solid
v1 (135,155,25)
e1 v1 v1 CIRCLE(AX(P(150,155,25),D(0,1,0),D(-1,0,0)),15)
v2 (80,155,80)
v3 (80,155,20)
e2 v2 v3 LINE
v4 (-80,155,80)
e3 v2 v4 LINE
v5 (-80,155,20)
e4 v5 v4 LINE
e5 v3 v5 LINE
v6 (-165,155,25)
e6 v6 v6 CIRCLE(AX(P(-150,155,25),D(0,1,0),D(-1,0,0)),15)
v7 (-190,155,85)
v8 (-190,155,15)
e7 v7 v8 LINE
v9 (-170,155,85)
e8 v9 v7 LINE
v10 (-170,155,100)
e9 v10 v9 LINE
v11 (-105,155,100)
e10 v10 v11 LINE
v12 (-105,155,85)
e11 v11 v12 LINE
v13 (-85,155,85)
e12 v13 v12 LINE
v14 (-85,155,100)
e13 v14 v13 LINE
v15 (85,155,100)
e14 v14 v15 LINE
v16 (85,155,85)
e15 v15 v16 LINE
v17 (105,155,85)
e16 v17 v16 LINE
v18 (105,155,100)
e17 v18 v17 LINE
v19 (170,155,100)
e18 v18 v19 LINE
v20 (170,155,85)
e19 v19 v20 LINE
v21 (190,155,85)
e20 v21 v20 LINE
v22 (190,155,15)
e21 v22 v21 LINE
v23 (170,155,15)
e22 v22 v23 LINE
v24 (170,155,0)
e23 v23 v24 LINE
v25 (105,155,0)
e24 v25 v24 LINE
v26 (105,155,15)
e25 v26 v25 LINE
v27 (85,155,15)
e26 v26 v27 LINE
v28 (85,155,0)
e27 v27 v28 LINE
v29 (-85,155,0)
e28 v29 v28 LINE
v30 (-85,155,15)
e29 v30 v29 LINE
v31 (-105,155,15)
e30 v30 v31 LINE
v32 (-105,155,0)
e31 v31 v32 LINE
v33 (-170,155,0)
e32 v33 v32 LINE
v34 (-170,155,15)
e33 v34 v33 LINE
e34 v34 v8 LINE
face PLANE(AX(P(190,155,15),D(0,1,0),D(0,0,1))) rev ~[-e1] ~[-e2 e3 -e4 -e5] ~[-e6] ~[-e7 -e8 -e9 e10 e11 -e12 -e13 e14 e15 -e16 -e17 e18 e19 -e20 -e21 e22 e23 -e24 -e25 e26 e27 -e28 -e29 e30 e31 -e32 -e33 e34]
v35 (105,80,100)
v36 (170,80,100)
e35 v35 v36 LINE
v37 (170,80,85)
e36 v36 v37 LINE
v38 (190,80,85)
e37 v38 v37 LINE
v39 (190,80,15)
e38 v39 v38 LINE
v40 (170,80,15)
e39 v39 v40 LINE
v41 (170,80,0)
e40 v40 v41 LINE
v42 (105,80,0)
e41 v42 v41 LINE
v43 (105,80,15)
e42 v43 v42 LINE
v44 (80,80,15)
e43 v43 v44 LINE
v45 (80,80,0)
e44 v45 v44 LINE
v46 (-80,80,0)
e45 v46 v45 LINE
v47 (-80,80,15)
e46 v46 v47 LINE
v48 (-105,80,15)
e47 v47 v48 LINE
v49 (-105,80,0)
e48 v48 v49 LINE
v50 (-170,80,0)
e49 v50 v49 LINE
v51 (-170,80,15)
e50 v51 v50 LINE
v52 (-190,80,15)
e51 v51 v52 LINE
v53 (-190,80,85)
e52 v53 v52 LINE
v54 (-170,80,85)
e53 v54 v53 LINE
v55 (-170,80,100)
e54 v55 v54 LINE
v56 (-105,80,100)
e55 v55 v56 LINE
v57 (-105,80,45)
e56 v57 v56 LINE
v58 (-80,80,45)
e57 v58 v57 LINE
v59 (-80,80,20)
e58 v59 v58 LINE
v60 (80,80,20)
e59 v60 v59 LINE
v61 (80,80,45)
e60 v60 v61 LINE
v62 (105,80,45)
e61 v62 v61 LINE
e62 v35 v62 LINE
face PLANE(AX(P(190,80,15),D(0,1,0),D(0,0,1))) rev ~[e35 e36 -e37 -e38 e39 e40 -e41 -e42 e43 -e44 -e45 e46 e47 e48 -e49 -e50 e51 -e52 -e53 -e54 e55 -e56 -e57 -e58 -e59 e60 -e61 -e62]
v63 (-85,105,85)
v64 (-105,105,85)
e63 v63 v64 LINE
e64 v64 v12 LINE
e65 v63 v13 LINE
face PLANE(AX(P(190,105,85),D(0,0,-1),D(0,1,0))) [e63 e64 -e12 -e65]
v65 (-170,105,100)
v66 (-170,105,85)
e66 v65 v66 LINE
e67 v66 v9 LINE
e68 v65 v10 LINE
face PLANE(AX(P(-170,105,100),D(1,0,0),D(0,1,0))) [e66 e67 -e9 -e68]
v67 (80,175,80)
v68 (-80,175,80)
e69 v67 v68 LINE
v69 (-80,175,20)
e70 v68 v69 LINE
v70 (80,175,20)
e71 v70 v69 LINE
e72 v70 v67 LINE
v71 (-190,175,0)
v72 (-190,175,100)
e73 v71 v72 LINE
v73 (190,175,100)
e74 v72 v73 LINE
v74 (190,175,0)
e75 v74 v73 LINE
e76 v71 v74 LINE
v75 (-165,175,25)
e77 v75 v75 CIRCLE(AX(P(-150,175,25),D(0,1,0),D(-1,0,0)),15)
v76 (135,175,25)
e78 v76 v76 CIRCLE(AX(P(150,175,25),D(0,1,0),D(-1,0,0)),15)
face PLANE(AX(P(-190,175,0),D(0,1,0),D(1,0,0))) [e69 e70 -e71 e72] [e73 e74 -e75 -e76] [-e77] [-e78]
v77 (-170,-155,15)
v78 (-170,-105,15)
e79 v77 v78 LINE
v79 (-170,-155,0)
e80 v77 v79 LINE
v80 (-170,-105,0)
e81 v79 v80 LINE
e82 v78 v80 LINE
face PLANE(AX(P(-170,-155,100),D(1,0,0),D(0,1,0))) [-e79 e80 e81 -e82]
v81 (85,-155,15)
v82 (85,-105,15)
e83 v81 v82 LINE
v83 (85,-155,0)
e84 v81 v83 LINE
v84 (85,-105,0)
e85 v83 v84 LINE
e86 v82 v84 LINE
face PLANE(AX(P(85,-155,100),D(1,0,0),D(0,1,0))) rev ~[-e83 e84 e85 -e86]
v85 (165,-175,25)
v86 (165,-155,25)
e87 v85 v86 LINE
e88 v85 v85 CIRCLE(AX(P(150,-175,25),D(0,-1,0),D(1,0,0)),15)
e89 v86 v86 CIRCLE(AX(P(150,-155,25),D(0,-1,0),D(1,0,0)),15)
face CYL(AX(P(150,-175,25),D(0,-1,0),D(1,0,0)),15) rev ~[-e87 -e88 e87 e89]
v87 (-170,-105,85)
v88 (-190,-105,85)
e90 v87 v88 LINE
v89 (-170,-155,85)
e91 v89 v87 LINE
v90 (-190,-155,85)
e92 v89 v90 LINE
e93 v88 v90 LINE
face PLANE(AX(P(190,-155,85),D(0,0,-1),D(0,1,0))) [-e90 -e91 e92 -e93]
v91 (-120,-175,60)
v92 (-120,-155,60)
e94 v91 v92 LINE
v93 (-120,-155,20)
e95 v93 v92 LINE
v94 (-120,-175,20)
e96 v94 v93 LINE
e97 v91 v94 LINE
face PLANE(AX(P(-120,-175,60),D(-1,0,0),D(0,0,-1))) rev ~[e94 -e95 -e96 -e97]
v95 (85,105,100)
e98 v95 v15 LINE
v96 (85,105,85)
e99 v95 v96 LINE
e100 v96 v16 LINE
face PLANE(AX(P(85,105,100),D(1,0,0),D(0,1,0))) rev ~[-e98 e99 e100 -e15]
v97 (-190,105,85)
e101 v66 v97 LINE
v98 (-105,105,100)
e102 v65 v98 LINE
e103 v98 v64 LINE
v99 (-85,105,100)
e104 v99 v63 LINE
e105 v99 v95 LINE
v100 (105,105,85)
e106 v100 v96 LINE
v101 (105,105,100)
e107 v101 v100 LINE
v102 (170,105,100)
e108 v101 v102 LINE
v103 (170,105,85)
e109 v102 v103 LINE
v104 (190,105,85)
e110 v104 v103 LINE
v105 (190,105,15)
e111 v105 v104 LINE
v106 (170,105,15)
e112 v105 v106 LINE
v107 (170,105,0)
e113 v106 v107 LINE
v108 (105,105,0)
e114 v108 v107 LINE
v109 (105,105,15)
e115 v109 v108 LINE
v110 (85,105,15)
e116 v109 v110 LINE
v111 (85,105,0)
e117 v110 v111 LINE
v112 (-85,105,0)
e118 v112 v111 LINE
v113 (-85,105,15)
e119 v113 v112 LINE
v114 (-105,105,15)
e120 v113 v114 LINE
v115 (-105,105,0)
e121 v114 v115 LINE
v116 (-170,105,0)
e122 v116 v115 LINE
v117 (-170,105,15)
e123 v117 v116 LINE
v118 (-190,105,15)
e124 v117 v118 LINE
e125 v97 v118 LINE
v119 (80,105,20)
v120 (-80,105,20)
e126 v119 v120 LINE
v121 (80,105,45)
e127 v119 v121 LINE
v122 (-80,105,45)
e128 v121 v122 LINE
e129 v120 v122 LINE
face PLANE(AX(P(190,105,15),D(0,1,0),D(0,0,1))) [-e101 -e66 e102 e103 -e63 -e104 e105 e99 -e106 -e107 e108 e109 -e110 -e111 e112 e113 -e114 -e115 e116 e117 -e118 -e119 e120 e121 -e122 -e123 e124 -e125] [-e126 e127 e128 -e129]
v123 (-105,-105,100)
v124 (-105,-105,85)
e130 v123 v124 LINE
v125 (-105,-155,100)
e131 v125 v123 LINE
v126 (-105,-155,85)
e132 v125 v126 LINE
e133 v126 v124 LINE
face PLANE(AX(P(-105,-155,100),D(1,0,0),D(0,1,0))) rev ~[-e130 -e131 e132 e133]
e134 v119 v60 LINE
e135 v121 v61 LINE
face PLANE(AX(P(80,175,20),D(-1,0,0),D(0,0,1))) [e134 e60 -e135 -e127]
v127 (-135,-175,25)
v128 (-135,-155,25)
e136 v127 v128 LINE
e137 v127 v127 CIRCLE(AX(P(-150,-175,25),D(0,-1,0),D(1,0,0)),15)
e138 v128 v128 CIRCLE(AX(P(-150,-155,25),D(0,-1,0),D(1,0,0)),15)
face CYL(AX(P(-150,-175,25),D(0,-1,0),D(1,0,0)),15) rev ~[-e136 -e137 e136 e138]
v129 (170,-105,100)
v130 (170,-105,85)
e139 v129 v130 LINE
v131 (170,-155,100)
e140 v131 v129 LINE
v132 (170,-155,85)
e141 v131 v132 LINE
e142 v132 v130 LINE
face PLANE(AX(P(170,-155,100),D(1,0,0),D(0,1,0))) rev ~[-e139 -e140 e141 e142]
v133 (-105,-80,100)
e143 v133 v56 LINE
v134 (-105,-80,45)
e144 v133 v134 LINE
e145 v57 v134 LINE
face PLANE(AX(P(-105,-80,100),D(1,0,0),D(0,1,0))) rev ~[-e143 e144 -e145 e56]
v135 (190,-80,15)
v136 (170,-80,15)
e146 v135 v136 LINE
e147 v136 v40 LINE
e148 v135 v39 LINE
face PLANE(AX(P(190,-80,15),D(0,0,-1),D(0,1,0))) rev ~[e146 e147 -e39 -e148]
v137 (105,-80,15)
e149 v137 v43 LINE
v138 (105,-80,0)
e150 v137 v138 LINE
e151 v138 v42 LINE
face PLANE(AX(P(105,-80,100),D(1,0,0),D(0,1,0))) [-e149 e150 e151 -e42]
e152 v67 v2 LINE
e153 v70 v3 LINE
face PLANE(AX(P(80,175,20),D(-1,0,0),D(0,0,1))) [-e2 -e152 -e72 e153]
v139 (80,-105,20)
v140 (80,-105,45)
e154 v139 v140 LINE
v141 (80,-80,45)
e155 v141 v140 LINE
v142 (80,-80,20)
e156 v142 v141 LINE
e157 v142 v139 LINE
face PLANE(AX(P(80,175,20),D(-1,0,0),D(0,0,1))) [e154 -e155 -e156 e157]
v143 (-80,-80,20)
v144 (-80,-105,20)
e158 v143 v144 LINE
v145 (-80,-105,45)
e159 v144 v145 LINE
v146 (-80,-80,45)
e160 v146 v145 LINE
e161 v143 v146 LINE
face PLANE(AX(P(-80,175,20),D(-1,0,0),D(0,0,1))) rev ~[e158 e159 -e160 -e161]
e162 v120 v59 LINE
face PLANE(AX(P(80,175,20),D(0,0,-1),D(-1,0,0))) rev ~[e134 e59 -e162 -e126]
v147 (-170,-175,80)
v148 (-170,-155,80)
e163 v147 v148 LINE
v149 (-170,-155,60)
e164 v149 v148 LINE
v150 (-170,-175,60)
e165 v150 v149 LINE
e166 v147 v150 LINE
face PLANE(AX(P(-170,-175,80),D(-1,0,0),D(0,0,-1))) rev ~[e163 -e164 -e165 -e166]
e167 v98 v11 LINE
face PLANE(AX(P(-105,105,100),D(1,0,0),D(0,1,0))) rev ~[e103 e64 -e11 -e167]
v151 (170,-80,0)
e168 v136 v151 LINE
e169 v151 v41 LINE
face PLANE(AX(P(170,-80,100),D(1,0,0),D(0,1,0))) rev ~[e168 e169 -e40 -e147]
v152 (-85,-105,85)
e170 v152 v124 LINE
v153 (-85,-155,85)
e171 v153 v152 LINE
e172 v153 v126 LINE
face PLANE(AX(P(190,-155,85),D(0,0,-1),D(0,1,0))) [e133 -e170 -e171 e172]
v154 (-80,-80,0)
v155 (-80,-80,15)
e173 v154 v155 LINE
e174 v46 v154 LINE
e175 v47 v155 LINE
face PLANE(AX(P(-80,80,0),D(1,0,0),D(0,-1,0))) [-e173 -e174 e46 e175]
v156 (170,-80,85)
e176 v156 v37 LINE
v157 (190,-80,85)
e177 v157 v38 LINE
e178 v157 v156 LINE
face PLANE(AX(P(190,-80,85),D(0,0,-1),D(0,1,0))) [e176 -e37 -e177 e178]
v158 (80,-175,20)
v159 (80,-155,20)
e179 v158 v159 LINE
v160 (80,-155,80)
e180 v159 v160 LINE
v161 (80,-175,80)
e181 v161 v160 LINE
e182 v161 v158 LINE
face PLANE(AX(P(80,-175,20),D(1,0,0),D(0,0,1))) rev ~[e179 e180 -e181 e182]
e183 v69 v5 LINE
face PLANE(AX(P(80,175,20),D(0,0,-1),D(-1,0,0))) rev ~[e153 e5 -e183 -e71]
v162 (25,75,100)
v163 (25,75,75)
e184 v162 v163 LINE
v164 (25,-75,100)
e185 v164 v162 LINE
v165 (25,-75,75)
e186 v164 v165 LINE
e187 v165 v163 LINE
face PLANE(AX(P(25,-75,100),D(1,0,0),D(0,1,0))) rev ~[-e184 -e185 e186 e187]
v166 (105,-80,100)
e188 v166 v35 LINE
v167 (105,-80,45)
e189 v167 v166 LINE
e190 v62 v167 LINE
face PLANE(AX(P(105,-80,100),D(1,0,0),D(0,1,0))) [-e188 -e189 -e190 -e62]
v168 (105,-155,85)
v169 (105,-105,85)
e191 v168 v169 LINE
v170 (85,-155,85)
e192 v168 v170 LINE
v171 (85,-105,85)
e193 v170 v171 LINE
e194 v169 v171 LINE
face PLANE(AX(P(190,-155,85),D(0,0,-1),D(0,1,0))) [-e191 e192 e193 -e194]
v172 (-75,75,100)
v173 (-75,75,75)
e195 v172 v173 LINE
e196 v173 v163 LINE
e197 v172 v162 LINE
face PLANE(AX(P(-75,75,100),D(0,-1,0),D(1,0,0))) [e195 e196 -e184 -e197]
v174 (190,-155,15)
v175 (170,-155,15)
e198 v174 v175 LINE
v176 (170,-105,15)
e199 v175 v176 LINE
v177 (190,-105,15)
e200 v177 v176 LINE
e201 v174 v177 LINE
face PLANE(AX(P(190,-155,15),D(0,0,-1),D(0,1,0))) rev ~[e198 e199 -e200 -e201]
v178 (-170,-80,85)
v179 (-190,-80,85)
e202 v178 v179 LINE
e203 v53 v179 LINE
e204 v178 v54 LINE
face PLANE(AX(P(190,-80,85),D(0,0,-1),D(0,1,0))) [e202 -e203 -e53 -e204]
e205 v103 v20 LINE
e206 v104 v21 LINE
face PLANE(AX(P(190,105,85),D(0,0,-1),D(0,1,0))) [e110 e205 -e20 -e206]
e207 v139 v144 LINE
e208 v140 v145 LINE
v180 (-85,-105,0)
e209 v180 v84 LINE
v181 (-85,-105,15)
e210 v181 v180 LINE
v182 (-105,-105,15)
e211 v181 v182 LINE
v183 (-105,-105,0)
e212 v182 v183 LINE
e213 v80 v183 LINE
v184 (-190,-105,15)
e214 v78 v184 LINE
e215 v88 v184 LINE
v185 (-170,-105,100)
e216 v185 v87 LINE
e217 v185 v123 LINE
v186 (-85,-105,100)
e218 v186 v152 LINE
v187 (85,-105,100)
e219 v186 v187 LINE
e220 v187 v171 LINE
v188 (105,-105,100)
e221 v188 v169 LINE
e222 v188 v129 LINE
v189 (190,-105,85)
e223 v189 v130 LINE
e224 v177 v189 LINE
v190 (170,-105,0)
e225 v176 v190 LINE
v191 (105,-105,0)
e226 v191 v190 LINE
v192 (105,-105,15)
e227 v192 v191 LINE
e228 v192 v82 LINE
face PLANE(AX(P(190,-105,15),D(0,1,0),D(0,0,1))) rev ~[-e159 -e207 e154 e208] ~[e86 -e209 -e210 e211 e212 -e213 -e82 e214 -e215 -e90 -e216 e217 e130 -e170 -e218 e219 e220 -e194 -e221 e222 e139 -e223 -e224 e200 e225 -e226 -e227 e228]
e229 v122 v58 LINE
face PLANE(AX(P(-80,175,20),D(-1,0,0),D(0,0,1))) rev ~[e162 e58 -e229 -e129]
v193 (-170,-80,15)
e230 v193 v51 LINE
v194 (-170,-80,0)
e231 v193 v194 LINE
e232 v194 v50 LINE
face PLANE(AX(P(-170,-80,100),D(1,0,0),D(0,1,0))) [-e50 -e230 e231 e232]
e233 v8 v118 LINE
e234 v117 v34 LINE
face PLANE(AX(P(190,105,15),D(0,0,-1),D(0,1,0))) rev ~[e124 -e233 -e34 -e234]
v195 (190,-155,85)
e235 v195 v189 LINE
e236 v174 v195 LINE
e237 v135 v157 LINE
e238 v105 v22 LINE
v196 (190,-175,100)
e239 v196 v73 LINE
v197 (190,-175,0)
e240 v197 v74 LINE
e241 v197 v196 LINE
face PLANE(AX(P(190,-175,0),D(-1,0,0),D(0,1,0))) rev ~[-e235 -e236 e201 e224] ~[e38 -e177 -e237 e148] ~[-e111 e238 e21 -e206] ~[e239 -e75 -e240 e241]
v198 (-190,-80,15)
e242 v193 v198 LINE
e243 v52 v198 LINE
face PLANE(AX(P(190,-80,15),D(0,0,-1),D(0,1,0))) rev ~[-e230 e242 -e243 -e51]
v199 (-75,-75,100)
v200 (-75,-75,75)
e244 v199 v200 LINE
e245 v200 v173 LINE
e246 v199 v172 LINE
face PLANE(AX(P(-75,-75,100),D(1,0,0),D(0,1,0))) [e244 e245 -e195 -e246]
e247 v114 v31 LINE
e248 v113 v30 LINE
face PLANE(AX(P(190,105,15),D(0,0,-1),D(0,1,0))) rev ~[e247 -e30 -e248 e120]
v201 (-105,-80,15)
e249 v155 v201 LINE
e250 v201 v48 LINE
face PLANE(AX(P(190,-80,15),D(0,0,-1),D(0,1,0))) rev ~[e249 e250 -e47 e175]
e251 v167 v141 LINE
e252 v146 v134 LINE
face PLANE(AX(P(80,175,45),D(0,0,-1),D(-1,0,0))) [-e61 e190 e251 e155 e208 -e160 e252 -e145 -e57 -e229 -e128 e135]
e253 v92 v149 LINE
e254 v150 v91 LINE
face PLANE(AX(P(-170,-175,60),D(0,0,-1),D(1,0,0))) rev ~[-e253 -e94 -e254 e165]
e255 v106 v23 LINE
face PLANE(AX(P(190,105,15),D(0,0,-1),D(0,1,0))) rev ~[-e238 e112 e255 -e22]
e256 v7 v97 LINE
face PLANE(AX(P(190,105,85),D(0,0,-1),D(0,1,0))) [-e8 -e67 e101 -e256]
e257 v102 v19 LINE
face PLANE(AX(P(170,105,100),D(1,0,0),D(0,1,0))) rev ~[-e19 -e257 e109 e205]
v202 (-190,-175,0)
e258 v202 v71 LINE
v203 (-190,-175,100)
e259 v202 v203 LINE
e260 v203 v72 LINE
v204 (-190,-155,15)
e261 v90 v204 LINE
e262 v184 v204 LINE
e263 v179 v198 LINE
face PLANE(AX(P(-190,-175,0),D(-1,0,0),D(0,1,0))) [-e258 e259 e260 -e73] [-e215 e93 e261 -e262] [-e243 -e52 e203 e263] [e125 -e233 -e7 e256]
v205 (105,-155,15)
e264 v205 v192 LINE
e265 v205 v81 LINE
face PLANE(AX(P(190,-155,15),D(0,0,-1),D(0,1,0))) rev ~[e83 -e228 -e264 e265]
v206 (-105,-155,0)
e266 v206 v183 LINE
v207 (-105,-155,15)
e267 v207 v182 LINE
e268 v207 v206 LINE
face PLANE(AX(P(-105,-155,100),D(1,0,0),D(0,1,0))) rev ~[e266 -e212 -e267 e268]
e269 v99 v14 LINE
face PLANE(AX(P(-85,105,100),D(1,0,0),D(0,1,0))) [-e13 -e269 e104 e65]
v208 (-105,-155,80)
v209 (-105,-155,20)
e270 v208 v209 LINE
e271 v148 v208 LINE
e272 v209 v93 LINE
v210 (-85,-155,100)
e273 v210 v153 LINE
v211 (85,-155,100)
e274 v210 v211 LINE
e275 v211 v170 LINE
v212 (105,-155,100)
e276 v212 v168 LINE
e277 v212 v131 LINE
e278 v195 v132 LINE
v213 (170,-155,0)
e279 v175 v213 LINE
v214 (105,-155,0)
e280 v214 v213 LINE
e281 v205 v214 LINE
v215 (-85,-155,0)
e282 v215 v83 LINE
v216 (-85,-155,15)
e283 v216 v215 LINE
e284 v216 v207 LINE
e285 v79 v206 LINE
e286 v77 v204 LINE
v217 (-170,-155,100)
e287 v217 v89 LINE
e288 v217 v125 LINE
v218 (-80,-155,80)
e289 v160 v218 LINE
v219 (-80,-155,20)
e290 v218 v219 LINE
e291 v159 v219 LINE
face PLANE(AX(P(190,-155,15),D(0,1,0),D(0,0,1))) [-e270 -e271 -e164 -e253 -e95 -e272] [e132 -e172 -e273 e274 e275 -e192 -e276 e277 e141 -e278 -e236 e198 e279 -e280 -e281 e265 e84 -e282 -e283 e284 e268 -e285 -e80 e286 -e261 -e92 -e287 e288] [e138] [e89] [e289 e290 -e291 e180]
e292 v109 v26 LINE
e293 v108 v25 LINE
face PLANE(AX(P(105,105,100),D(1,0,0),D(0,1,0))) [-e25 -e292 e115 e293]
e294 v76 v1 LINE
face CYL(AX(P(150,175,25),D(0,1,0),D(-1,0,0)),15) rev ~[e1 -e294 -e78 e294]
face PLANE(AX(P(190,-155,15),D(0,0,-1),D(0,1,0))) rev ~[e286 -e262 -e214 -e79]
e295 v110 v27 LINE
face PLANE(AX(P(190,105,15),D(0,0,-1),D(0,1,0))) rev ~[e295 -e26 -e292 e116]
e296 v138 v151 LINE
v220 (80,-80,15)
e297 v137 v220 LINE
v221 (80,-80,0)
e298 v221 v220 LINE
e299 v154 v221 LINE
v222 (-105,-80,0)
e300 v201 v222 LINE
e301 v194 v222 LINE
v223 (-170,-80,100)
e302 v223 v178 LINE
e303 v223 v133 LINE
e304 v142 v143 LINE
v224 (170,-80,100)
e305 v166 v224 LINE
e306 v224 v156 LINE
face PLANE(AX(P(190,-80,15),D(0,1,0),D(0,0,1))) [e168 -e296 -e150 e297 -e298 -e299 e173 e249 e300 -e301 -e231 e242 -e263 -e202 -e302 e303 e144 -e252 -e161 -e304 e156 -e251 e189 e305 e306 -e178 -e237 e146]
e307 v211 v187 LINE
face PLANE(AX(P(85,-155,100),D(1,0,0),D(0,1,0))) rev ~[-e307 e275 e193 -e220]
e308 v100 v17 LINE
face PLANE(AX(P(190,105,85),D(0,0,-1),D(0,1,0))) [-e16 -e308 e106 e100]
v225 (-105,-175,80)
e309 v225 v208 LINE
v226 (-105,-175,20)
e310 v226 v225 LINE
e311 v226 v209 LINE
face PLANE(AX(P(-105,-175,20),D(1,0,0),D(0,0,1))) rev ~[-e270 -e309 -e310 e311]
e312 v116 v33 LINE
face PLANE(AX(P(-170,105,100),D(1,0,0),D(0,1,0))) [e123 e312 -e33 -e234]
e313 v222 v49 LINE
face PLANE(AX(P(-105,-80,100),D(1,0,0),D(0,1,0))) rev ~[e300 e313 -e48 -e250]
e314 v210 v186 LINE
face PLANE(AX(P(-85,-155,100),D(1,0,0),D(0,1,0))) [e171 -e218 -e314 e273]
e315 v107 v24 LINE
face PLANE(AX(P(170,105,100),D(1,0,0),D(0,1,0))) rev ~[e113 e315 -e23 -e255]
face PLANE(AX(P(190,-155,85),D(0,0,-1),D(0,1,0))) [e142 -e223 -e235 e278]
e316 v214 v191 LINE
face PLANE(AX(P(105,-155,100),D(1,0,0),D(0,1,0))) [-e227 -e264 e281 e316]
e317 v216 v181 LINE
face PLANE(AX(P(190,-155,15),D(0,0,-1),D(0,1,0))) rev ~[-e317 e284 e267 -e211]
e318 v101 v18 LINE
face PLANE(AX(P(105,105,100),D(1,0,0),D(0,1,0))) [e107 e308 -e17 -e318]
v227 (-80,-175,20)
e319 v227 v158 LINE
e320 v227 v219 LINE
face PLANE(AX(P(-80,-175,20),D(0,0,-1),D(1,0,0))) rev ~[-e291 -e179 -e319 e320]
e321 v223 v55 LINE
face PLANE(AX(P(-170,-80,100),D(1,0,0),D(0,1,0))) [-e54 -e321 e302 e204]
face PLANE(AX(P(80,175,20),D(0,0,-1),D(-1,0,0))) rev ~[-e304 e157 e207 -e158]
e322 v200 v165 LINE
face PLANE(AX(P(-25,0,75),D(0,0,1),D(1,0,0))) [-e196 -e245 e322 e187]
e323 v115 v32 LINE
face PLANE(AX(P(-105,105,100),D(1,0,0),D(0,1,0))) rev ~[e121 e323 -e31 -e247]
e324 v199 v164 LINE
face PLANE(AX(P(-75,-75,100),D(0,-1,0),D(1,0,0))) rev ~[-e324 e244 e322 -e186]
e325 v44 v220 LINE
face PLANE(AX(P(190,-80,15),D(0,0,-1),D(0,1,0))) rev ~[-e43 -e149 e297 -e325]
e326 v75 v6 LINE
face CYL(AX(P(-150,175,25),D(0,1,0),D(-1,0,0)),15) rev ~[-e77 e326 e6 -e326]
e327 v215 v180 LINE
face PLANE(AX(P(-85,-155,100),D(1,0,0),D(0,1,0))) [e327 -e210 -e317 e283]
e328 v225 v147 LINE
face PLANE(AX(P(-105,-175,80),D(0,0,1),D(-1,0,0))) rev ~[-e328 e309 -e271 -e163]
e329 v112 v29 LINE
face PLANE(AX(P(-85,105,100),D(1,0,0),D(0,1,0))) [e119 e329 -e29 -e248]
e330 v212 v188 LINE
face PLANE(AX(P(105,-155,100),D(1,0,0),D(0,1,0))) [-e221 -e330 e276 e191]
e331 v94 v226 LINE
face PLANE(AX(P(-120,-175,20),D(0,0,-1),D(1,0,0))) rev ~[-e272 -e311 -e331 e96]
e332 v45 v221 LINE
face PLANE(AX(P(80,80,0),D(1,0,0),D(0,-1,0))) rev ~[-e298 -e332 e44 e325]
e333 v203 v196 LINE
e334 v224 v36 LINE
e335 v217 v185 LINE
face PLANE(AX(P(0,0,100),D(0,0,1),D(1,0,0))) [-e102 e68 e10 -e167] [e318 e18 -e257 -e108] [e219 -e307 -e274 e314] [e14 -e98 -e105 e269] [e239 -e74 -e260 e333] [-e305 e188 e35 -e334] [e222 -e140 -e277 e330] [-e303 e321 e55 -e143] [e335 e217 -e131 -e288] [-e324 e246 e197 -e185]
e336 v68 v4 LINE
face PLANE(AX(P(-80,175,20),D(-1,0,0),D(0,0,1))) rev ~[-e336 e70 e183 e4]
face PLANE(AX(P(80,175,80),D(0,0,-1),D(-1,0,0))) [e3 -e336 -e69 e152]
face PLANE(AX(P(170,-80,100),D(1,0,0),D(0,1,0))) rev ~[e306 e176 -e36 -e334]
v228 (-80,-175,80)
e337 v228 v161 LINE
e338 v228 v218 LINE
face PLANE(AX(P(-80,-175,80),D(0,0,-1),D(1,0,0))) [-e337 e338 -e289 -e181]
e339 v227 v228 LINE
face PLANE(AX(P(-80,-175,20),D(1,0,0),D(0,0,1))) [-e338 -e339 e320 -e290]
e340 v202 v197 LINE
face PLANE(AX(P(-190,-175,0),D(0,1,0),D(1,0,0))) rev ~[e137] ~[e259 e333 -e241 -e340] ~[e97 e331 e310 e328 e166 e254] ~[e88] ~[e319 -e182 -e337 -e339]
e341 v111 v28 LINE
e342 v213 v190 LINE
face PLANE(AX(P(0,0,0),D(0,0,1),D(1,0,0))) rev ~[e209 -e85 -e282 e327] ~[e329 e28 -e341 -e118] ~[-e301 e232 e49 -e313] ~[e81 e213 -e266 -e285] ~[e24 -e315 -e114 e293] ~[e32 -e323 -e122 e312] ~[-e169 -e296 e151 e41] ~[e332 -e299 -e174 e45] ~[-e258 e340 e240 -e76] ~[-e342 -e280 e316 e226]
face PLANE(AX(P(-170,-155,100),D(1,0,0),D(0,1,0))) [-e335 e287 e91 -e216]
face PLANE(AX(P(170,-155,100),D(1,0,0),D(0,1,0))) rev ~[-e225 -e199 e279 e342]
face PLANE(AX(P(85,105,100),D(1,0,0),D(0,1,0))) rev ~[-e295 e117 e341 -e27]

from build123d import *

# Parameters (mm, degrees)
F0_W      = 380
F0_H      = 350
F1_DEPTH  = 100
F2_W      = 170
F2_H      = 50
F2_W_2    = 65
F2_H_2    = 160
F3_DEPTH  = 100.001
F4_W      = 50
F4_H      = 70
F4_W_2    = 160
F5_DEPTH  = 380.001
F7_R      = 15
F8_DEPTH  = 25
F9_R      = 15
F10_DEPTH = 25
F11_W     = 160
F11_H     = 60
F12_DEPTH = 25
F13_W     = 160
F13_H     = 60
F14_DEPTH = 25
F15_W     = 160
F15_H     = 160
F16_DEPTH = 25
F17_W     = 210
F17_H     = 210
F18_DEPTH = 40
F19_W     = 100
F19_H     = 150
F20_DEPTH = 25
F21_W     = 160
F21_H     = 25
F22_DEPTH = 350.001
F24_DEPTH = 25


with BuildPart() as f1:
    # F0 (on Top) → F1 (new body)
    with BuildSketch(Plane.XY):
        Rectangle(F0_W, F0_H)
    extrude(amount=F1_DEPTH)

    # F2 (on face) → F3 (cut, through all)
    with BuildSketch(Plane.XY.offset(100)):
        with Locations((0, 130)):
            Rectangle(F2_W, F2_H)
        with Locations((137.5, 130)):
            Rectangle(F2_W_2, F2_H)
        with Locations((137.5, 0)):
            Rectangle(F2_W_2, F2_H_2)
        with Locations((137.5, -130)):
            Rectangle(F2_W_2, F2_H)
        with Locations((0, -130)):
            Rectangle(F2_W, F2_H)
        with Locations((-137.5, -130)):
            Rectangle(F2_W_2, F2_H)
        with Locations((-137.5, 0)):
            Rectangle(F2_W_2, F2_H_2)
        with Locations((-137.5, 130)):
            Rectangle(F2_W_2, F2_H)
    extrude(amount=-F3_DEPTH, mode=Mode.SUBTRACT)

    # F4 (on face) → F5 (cut, through all)
    with BuildSketch(Plane.YZ.offset(190)):
        with Locations((-130, 50)):
            Rectangle(F4_W, F4_H)
        with Locations((0, 50)):
            Rectangle(F4_W_2, F4_H)
        with Locations((130, 50)):
            Rectangle(F4_W, F4_H)
    extrude(amount=-F5_DEPTH, mode=Mode.SUBTRACT)

    # F7 (on face) → F8 (cut)
    with BuildSketch(Plane.XZ.offset(175)):
        with Locations((-150, 25)):
            Circle(F7_R)
        with Locations((150, 25)):
            Circle(F7_R)
    extrude(amount=-F8_DEPTH, mode=Mode.SUBTRACT)

    # F9 (on face) → F10 (cut)
    with BuildSketch(Plane(origin=(0, 175, 0), x_dir=(-1, 0, 0), z_dir=(0, 1, 0))):
        with Locations((-150, 25)):
            Circle(F9_R)
        with Locations((150, 25)):
            Circle(F9_R)
    extrude(amount=-F10_DEPTH, mode=Mode.SUBTRACT)

    # F11 (on face) → F12 (cut)
    with BuildSketch(Plane(origin=(0, 175, 0), x_dir=(-1, 0, 0), z_dir=(0, 1, 0))):
        with Locations((0, 50)):
            Rectangle(F11_W, F11_H)
    extrude(amount=-F12_DEPTH, mode=Mode.SUBTRACT)

    # F13 (on face) → F14 (cut)
    with BuildSketch(Plane.XZ.offset(175)):
        with Locations((0, 50)):
            Rectangle(F13_W, F13_H)
    extrude(amount=-F14_DEPTH, mode=Mode.SUBTRACT)

    # F15 (on face) → F16 (cut)
    with BuildSketch(Plane(origin=(0, 0, 0), x_dir=(1, 0, 0), z_dir=(0, 0, -1))):
        Rectangle(F15_W, F15_H)
    extrude(amount=-F16_DEPTH, mode=Mode.SUBTRACT)

    # F17 (on face) → F18 (join)
    with BuildSketch(Plane(origin=(0, 0, 85), x_dir=(1, 0, 0), z_dir=(0, 0, -1))):
        Rectangle(F17_W, F17_H)
    extrude(amount=F18_DEPTH)

    # F19 (on face) → F20 (cut)
    with BuildSketch(Plane.XY.offset(100)):
        with Locations((-25, 0)):
            Rectangle(F19_W, F19_H)
    extrude(amount=-F20_DEPTH, mode=Mode.SUBTRACT)

    # F21 (on face) → F22 (cut, through all)
    with BuildSketch(Plane(origin=(0, 175, 0), x_dir=(-1, 0, 0), z_dir=(0, 1, 0))):
        with Locations((0, 32.5)):
            Rectangle(F21_W, F21_H)
    extrude(amount=-F22_DEPTH, mode=Mode.SUBTRACT)

    # F23 (on face) → F24 (cut)
    with BuildSketch(Plane.XZ.offset(175)):
        Polygon((-105, 80), (-170, 80), (-170, 60), (-120, 60), (-120, 20), (-105, 20), align=None)
    extrude(amount=-F24_DEPTH, mode=Mode.SUBTRACT)


solid = f1.part
